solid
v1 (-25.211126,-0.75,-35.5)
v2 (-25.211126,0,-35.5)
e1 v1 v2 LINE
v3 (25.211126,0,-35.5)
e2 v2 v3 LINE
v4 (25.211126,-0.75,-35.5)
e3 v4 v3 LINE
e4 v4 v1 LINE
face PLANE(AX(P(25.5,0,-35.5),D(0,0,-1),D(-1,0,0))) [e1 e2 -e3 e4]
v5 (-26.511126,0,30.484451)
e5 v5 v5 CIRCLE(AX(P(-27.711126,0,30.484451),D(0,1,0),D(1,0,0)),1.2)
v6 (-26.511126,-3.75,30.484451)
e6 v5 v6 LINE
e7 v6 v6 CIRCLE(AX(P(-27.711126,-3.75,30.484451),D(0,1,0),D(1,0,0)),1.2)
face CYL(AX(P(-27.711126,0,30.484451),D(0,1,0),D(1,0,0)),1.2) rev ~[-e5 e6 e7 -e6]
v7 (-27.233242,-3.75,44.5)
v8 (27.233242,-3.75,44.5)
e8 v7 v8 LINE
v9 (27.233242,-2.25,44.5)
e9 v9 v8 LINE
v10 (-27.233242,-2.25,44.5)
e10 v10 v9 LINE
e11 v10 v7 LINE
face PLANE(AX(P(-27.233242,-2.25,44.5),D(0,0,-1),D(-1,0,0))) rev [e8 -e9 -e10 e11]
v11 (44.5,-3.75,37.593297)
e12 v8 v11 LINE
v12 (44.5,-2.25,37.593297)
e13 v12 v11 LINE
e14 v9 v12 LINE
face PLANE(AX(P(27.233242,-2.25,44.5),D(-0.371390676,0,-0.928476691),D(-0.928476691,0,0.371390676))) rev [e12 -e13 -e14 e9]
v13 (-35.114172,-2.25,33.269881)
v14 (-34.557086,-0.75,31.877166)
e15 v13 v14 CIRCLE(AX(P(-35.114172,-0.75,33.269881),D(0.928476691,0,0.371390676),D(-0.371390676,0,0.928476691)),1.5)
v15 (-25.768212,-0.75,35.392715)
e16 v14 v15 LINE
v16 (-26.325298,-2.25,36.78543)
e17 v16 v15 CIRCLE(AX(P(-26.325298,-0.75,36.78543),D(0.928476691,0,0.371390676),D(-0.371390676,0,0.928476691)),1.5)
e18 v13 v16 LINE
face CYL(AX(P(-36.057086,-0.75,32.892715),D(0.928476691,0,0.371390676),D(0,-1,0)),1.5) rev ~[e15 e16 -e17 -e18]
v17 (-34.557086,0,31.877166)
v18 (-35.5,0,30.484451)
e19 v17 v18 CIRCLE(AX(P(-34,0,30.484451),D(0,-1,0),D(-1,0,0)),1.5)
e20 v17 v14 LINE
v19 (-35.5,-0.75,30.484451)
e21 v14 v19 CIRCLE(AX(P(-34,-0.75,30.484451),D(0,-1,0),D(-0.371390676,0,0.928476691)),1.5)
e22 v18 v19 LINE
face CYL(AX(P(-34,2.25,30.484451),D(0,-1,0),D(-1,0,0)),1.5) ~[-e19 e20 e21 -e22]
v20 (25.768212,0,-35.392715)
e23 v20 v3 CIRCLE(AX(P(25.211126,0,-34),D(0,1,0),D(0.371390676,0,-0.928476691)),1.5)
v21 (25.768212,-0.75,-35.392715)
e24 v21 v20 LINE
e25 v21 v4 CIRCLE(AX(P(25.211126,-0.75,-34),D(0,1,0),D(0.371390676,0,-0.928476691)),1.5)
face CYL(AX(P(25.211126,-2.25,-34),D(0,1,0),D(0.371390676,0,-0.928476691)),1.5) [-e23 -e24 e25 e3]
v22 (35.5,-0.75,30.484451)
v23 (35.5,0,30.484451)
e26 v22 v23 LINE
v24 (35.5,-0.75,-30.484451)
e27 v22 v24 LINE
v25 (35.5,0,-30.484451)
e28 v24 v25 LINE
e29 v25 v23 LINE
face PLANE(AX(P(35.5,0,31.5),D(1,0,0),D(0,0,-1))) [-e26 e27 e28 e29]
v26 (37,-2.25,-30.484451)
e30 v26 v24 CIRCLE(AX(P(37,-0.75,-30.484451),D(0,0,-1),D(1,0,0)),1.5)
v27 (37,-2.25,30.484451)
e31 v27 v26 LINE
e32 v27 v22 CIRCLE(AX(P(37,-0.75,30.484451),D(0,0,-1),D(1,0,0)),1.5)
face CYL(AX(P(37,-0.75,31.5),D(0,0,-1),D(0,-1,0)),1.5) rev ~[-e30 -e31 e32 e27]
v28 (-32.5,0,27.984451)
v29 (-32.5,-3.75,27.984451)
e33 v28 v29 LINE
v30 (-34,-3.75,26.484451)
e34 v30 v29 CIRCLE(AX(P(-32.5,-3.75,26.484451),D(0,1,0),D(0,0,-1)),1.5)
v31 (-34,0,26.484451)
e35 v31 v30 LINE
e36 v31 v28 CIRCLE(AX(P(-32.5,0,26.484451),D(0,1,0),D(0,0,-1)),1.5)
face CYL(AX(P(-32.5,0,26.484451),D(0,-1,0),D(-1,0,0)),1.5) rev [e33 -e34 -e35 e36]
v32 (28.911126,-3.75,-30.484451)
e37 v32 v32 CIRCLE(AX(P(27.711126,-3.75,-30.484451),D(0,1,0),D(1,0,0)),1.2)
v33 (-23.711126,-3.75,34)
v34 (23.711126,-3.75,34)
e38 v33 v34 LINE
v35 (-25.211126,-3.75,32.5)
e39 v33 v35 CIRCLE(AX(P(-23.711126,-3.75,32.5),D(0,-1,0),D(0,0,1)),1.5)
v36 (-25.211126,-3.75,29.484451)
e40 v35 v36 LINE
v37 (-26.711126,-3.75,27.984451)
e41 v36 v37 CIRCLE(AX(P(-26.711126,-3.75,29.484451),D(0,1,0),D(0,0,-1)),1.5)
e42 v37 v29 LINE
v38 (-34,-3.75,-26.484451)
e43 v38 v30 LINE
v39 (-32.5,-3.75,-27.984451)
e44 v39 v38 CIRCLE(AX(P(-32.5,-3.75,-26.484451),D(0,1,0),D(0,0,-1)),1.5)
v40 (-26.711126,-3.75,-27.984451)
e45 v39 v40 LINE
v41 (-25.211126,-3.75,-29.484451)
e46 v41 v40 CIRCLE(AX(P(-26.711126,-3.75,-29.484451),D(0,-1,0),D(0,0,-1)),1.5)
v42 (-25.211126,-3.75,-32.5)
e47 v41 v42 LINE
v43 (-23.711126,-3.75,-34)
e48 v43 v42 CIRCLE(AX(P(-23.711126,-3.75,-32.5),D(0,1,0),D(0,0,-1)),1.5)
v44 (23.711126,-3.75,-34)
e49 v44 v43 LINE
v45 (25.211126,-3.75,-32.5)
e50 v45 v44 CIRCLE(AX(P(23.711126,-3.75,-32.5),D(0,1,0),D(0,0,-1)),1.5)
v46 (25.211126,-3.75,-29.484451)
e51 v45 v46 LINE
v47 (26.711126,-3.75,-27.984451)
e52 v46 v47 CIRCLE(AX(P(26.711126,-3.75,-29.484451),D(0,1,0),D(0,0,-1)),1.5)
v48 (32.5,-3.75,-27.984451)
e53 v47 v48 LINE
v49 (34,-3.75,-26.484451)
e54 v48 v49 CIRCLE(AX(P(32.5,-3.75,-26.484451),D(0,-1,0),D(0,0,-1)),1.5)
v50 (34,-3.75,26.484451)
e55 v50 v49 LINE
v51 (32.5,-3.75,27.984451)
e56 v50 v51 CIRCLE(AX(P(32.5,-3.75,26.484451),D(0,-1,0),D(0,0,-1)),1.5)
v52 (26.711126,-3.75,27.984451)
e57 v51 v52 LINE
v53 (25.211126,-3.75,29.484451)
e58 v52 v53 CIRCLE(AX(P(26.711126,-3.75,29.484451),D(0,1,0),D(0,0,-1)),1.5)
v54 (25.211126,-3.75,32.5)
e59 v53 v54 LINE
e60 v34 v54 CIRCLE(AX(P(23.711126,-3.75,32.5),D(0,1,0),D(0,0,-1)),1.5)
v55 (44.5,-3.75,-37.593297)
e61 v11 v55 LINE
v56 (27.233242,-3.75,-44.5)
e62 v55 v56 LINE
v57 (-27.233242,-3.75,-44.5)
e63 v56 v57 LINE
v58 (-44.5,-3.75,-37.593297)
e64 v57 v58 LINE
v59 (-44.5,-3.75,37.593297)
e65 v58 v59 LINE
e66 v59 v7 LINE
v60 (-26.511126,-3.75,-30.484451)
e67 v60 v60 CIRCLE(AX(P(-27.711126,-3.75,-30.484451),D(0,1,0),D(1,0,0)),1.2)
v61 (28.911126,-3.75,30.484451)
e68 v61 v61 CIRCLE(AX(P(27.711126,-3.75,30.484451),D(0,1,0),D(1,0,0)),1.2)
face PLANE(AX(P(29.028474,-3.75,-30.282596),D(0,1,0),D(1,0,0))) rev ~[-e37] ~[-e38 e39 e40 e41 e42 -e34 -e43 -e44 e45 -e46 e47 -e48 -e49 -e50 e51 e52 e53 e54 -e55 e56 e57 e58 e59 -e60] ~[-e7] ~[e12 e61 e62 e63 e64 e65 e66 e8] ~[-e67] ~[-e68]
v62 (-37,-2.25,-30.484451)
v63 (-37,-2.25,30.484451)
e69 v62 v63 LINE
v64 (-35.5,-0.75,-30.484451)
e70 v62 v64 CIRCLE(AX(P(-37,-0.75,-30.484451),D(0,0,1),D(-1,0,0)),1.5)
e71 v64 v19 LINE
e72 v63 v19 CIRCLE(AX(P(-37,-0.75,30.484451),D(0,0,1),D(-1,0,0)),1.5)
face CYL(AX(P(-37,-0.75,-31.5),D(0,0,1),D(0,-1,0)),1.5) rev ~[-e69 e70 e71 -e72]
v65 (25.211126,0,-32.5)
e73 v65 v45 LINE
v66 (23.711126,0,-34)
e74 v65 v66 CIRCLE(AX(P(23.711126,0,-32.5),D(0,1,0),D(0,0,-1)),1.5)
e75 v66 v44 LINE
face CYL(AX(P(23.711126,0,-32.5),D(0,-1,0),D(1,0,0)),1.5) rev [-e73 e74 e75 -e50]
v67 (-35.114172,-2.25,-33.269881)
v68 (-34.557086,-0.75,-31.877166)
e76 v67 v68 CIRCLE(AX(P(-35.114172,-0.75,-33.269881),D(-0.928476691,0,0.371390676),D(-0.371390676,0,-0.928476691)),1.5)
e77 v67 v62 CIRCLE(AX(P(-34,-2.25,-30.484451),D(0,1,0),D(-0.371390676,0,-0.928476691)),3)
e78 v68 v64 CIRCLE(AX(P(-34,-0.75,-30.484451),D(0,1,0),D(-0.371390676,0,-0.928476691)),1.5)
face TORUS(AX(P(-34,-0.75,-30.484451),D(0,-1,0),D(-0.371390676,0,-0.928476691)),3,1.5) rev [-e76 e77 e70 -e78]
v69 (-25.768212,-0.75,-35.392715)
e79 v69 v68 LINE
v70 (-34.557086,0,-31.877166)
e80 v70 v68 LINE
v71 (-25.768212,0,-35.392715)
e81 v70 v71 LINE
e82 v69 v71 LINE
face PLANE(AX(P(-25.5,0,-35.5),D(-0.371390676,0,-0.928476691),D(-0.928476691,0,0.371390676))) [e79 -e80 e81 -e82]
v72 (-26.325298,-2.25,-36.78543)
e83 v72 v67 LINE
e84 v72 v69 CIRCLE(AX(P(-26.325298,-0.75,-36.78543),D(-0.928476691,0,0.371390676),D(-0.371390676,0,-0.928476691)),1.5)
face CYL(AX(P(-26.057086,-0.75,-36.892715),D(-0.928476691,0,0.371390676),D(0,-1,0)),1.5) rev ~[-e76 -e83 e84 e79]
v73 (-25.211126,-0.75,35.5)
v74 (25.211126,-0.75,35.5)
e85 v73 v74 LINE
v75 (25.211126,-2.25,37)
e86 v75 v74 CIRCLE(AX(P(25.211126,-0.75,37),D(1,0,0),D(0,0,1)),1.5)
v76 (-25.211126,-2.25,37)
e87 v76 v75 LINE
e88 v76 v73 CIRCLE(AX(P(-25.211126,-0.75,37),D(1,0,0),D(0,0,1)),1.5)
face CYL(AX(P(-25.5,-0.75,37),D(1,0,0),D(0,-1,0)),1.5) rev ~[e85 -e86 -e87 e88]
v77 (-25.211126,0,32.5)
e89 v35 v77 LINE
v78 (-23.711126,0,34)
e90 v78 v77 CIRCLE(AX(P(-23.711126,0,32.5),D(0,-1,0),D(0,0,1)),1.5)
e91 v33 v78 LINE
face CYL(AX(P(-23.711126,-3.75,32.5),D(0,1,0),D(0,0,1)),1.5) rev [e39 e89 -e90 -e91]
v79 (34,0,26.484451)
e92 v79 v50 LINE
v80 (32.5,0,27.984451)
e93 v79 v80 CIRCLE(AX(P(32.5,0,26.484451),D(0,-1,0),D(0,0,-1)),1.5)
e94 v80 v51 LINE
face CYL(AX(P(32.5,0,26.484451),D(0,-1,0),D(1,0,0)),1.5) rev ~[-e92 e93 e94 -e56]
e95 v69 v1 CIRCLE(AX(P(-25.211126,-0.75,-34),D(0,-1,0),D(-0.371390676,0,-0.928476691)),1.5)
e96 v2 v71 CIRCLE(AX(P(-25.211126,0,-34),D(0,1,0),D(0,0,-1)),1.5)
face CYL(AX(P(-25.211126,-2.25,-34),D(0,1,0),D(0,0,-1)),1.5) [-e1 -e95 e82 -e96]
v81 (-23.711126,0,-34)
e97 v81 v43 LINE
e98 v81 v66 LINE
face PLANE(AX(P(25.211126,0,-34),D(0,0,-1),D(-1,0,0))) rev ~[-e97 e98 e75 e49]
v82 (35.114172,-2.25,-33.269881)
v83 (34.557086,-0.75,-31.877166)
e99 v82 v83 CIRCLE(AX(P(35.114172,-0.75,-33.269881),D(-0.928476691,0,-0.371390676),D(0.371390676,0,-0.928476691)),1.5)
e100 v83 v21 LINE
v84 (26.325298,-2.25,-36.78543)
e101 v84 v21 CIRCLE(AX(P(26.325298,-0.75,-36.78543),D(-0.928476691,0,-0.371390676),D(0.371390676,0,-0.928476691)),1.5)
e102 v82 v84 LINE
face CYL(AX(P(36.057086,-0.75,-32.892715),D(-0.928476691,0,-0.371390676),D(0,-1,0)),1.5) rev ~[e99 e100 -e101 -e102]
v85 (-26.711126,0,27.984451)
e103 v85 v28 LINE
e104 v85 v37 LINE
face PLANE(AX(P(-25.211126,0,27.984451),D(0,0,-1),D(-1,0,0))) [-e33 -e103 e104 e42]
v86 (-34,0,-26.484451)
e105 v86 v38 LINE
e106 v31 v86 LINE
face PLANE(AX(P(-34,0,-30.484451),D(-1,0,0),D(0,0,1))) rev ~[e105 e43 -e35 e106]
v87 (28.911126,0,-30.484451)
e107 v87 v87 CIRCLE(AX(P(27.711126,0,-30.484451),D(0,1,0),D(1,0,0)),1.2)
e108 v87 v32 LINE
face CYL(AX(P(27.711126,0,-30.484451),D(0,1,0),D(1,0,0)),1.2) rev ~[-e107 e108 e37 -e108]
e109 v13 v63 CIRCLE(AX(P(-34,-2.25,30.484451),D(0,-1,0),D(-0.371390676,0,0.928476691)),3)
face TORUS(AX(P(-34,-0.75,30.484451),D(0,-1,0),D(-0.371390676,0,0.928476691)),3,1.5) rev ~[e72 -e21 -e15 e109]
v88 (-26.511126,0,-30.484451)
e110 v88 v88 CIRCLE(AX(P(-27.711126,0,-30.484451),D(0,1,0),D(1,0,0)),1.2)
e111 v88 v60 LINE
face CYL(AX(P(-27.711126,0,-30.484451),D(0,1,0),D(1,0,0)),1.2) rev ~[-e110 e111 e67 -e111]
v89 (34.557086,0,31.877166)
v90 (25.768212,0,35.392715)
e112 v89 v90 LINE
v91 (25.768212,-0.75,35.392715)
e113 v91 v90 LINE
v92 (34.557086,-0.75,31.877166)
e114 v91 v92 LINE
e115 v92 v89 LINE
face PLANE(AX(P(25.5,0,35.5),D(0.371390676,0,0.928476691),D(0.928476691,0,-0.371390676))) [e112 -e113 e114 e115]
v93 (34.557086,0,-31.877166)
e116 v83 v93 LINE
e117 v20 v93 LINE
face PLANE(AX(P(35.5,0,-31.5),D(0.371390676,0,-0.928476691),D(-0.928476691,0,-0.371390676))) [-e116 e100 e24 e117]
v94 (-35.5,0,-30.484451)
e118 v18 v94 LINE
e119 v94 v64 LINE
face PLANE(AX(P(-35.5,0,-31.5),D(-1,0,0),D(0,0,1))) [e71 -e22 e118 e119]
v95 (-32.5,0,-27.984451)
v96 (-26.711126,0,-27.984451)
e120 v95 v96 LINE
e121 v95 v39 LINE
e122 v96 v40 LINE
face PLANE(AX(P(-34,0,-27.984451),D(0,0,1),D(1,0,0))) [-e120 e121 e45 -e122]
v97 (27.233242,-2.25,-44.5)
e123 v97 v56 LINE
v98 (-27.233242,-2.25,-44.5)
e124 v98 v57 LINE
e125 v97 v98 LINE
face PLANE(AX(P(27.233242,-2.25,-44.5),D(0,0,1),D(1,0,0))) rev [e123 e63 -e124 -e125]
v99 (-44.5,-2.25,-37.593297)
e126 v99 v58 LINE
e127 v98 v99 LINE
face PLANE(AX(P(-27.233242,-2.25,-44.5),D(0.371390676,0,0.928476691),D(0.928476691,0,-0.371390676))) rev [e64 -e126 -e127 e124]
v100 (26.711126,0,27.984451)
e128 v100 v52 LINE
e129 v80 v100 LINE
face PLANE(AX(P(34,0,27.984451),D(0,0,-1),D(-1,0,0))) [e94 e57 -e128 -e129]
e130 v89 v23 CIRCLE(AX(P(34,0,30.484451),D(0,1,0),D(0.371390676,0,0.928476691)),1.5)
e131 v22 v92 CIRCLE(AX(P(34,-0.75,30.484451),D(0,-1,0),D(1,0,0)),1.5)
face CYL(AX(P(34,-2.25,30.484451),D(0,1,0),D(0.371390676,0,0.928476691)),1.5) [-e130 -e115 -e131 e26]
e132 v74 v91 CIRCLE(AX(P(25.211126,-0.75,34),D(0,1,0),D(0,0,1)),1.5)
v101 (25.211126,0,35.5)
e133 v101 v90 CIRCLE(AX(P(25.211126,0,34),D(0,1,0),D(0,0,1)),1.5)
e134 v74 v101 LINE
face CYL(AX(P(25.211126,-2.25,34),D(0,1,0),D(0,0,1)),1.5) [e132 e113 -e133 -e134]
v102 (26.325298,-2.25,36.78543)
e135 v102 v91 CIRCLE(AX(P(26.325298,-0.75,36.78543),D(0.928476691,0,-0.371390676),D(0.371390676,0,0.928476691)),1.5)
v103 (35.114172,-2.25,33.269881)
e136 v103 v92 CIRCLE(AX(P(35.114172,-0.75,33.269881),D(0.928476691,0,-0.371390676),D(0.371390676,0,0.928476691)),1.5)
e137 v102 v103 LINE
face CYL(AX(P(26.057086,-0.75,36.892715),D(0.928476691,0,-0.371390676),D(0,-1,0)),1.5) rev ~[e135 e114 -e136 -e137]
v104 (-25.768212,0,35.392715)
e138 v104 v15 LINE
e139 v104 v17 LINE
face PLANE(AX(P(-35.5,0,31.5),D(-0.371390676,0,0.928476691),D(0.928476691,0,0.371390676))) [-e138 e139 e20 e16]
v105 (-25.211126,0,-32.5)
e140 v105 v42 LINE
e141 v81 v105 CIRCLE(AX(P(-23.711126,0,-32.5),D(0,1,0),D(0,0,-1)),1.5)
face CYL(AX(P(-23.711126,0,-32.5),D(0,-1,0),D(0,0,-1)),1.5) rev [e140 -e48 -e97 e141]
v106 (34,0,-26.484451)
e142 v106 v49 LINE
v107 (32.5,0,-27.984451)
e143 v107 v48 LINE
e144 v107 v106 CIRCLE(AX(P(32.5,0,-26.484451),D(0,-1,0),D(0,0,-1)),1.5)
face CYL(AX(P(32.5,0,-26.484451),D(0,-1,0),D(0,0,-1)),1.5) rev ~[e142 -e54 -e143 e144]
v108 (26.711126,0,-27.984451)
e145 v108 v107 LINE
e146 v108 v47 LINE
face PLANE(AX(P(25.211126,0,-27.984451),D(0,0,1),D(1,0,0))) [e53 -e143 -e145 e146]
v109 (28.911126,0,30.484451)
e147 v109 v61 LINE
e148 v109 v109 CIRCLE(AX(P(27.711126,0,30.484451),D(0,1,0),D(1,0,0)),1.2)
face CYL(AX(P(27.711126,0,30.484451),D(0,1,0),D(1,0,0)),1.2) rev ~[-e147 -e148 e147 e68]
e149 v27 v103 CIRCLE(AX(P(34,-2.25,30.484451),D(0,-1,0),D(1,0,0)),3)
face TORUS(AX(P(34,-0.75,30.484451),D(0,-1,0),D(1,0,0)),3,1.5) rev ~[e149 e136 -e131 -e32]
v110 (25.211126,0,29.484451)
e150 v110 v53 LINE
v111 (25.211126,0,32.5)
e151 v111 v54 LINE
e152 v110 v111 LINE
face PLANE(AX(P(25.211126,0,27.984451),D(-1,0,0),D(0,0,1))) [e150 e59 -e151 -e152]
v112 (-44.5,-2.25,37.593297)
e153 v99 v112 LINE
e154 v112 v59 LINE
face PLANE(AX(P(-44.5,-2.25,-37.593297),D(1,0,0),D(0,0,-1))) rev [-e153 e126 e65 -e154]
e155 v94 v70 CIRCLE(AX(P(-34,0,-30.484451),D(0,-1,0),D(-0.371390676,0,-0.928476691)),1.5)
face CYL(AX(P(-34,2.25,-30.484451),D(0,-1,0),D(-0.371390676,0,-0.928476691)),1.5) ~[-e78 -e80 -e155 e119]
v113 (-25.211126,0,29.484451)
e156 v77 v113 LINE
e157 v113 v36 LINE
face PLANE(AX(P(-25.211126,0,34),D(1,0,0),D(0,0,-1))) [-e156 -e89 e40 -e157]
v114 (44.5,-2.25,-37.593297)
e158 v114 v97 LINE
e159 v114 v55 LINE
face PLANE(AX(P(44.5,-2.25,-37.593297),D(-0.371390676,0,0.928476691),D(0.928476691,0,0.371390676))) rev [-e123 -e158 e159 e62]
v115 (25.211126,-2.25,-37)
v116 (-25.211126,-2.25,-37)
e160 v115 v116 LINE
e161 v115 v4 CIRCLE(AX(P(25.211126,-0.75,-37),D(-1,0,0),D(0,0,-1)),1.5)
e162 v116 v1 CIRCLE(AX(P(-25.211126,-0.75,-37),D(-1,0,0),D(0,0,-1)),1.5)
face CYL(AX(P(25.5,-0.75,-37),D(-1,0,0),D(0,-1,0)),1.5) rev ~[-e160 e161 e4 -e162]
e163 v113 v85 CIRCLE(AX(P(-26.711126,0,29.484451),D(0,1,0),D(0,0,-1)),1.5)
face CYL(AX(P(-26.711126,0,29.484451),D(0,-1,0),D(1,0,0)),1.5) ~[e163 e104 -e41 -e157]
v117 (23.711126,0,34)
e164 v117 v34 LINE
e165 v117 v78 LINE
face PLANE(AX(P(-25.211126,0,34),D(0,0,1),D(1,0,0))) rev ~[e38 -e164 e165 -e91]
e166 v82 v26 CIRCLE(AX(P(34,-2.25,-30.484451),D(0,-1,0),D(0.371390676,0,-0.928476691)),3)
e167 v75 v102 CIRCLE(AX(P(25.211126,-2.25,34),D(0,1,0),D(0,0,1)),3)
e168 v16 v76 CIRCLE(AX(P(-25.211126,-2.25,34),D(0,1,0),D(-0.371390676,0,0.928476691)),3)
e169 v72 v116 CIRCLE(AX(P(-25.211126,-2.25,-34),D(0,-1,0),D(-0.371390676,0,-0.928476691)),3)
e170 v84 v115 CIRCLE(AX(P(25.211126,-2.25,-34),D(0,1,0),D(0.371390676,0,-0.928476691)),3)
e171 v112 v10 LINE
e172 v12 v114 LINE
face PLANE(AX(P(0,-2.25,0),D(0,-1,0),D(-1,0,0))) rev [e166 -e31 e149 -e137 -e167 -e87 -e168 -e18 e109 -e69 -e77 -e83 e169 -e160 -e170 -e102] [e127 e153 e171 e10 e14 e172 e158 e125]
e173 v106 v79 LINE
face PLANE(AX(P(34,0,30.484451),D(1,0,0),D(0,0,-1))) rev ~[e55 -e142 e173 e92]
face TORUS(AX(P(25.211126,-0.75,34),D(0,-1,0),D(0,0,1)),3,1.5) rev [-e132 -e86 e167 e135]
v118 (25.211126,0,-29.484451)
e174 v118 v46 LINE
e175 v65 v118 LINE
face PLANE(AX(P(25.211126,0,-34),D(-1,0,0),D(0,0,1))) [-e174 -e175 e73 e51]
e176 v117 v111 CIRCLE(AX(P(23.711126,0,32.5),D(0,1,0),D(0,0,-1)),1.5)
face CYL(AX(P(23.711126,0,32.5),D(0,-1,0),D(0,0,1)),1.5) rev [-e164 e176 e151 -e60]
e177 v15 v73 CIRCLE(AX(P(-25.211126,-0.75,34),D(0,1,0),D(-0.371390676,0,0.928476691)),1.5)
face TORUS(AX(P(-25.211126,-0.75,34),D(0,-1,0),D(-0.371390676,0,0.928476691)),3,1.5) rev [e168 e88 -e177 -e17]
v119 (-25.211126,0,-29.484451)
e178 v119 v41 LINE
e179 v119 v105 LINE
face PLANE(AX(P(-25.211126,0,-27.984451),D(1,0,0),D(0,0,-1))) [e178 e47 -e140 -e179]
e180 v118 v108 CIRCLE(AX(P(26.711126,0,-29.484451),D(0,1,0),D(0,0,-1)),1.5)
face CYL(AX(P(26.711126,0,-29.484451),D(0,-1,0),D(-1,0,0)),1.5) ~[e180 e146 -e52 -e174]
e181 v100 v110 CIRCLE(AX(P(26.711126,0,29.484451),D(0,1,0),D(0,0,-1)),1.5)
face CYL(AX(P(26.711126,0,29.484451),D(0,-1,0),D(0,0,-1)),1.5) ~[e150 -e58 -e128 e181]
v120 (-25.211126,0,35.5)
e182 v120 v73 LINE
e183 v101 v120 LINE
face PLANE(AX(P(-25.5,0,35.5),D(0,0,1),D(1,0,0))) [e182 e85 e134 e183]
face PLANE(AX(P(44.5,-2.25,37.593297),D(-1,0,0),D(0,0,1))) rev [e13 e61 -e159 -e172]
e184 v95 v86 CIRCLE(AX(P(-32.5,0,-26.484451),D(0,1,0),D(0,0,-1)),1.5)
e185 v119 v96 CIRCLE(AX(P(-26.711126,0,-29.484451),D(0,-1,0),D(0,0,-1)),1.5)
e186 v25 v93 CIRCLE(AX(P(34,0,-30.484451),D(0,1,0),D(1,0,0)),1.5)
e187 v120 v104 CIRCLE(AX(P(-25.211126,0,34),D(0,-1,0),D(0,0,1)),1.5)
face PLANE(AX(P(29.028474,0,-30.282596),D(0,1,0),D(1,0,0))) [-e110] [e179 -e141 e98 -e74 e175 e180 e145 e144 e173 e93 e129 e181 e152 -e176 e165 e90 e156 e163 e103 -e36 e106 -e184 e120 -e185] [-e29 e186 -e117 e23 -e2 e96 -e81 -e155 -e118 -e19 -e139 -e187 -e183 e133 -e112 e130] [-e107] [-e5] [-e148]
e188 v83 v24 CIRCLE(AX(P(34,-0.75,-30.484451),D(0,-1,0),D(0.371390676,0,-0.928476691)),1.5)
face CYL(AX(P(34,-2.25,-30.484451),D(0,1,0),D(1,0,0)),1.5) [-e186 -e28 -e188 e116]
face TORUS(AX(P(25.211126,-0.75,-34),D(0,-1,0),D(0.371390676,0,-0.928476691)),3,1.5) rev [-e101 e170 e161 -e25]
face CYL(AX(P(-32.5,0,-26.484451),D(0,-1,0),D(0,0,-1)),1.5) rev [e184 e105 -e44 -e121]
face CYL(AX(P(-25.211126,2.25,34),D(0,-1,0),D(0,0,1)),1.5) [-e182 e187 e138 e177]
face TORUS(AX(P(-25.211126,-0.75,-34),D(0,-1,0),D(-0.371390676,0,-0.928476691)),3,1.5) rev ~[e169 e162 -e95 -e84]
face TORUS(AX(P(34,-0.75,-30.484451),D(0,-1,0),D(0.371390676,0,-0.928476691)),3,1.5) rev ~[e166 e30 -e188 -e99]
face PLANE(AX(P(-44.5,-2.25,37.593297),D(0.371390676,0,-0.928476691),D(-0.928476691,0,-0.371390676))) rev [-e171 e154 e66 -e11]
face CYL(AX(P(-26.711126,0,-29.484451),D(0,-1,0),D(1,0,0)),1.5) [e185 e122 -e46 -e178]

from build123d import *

# Parameters (mm, degrees)
BOSS_EXTRUDE1_DEPTH     = 2.25
BOSS_EXTRUDE2_DEPTH     = 1.5
CUT_EXTRUDE1_DEPTH      = 4.75
CUT_EXTRUDE1_DEPTH_BACK = 4.75
BOSS_EXTRUDE3_START     = 44.5
SKETCH5_W               = 8
SKETCH5_H               = 12.8
BOSS_EXTRUDE3_DEPTH     = 1.5
BOSS_EXTRUDE4_START     = -44.5
SKETCH5_2_W             = 8
SKETCH5_2_H             = 12.8
BOSS_EXTRUDE4_DEPTH     = 1.5
SKETCH6_R               = 1.2
CUT_EXTRUDE3_DEPTH      = 45.5
CUT_EXTRUDE3_DEPTH_BACK = 45.5
FILLET1_R               = 1.5
SKETCH7_W               = 89
SKETCH7_H               = 89
CUT_EXTRUDE4_DEPTH      = 17.55
SKETCH8_R               = 1.2
BOSS_EXTRUDE5_DEPTH     = 3.75
FILLET2_R               = 1.5


with BuildPart() as part:
    # Sketch1 → Boss-Extrude1 (new body, symmetric)
    with BuildSketch(Plane(origin=(0, 0, 0), x_dir=(1, 0, 0), z_dir=(0, 1, 0))):
        Polygon((-25.5, -35.5), (25.5, -35.5), (35.5, -31.5), (35.5, 31.5), (25.5, 35.5), (-25.5, 35.5), (-35.5, 31.5), (-35.5, -31.5), align=None)
    extrude(amount=BOSS_EXTRUDE1_DEPTH, both=True)

    # Sketch2 → Boss-Extrude2 (add)
    with BuildSketch(Plane(origin=(0, 2.25, 0), x_dir=(1, 0, 0), z_dir=(0, 1, 0))):
        Polygon((27.233241632, -44.5), (44.5, -37.593296653), (44.5, 37.593296653), (27.233241632, 44.5), (-27.233241632, 44.5), (-44.5, 37.593296653), (-44.5, -37.593296653), (-27.233241632, -44.5), align=None)
    boss_extrude2 = extrude(amount=BOSS_EXTRUDE2_DEPTH)

    # Mirror1: Boss-Extrude2 across plane
    add(boss_extrude2.mirror(Plane.ZX))

    # Sketch3 → Cut-Extrude1 (cut, two sides)
    with BuildSketch(Plane(origin=(0, 0, 0), x_dir=(1, 0, 0), z_dir=(0, 1, 0))) as cut_extrude1_sk:
        Polygon((-25.211126395, -34), (25.211126395, -34), (34, -30.484450558), (34, 30.484450558), (25.211126395, 34), (-25.211126395, 34), (-34, 30.484450558), (-34, -30.484450558), align=None)
    extrude(amount=CUT_EXTRUDE1_DEPTH, mode=Mode.SUBTRACT)
    extrude(cut_extrude1_sk.sketch, amount=-CUT_EXTRUDE1_DEPTH_BACK, mode=Mode.SUBTRACT)

    # Sketch5 → Boss-Extrude3 (add)
    with BuildSketch(Plane.XY.offset(BOSS_EXTRUDE3_START)):
        with Locations((-22, 10.15)):
            Rectangle(SKETCH5_W, SKETCH5_H)
        with Locations((22, 10.15)):
            Rectangle(SKETCH5_W, SKETCH5_H)
    extrude(amount=-BOSS_EXTRUDE3_DEPTH)

    # Sketch5<2> → Boss-Extrude4 (add)
    with BuildSketch(Plane.XY.offset(BOSS_EXTRUDE4_START)):
        with Locations((-22, 10.15)):
            Rectangle(SKETCH5_2_W, SKETCH5_2_H)
        with Locations((22, 10.15)):
            Rectangle(SKETCH5_2_W, SKETCH5_2_H)
    extrude(amount=BOSS_EXTRUDE4_DEPTH)

    # Sketch6 → Cut-Extrude3 (cut, two sides)
    with BuildSketch(Plane.XY) as cut_extrude3_sk:
        with Locations((-22, 13.85)):
            Circle(SKETCH6_R)
        with Locations((22, 13.85)):
            Circle(SKETCH6_R)
        with Locations((-22, 8.45)):
            Circle(SKETCH6_R)
        with Locations((22, 8.45)):
            Circle(SKETCH6_R)
    extrude(amount=CUT_EXTRUDE3_DEPTH, mode=Mode.SUBTRACT)
    extrude(cut_extrude3_sk.sketch, amount=-CUT_EXTRUDE3_DEPTH_BACK, mode=Mode.SUBTRACT)

    # Fillet1
    fillet1_edges = [part.edges().sort_by_distance(p)[0] for p in [
        (35.5, 0, 31.5),
        (25.5, 0, 35.5),
        (0, 2.25, -35.5),
        (0, -2.25, -35.5),
        (35.5, 2.25, 0),
        (35.5, -2.25, 0),
        (-35.5, 2.25, 0),
        (-35.5, -2.25, 0),
        (0, 2.25, 35.5),
        (0, -2.25, 35.5),
        (-25.5, 0, -35.5),
        (-30.5, 2.25, -33.5),
        (-35.5, 0, -31.5),
        (-30.5, -2.25, -33.5),
        (35.5, 0, -31.5),
        (30.5, 2.25, -33.5),
        (25.5, 0, -35.5),
        (30.5, -2.25, -33.5),
        (30.5, 2.25, 33.5),
        (30.5, -2.25, 33.5),
        (-35.5, 0, 31.5),
        (-30.5, 2.25, 33.5),
        (-25.5, 0, 35.5),
        (-30.5, -2.25, 33.5),
        (-22, 3.75, -43),
        (22, 3.75, -43),
        (-22, 3.75, 43),
        (22, 3.75, 43),
        (26, 3.75, 43.75),
        (-18, 3.75, 43.75),
        (18, 3.75, 43.75),
        (-26, 3.75, 43.75),
        (18, 3.75, -43.75),
        (26, 3.75, -43.75),
        (-26, 3.75, -43.75),
    ]]
    fillet(fillet1_edges, radius=FILLET1_R)

    # Sketch7 → Cut-Extrude4 (cut, through all)
    with BuildSketch(Plane(origin=(0, 0, 0), x_dir=(1, 0, 0), z_dir=(0, 1, 0))):
        Rectangle(SKETCH7_W, SKETCH7_H)
    extrude(amount=CUT_EXTRUDE4_DEPTH, mode=Mode.SUBTRACT)

    # Sketch8 → Boss-Extrude5 (add)
    with BuildSketch(Plane(origin=(0, 0, 0), x_dir=(1, 0, 0), z_dir=(0, 1, 0))):
        Polygon((34, 30.484450558), (25.211126395, 34), (25.211126395, 27.984450558), (34, 27.984450558), align=None)
        with Locations((27.711126395, 30.484450558)):
            Circle(SKETCH8_R, mode=Mode.SUBTRACT)
        Polygon((-25.211126395, 27.984450558), (-25.211126395, 34), (-34, 30.484450558), (-34, 27.984450558), align=None)
        with Locations((-27.711126395, 30.484450558)):
            Circle(SKETCH8_R, mode=Mode.SUBTRACT)
        Polygon((25.211126395, -27.984450558), (25.211126395, -34), (34, -30.484450558), (34, -27.984450558), align=None)
        with Locations((27.711126395, -30.484450558)):
            Circle(SKETCH8_R, mode=Mode.SUBTRACT)
        Polygon((-34, -30.484450558), (-25.211126395, -34), (-25.211126395, -27.984450558), (-34, -27.984450558), align=None)
        with Locations((-27.711126395, -30.484450558)):
            Circle(SKETCH8_R, mode=Mode.SUBTRACT)
    extrude(amount=-BOSS_EXTRUDE5_DEPTH)

    # Fillet2
    fillet2_edges = [part.edges().sort_by_distance(p)[0] for p in [
        (34, -1.875, -27.984450558),
        (25.211126395, -1.875, -27.984450558),
        (-25.211126395, -1.875, -27.984450558),
        (-34, -1.875, -27.984450558),
        (25.211126395, -1.875, 27.984450558),
        (34, -1.875, 27.984450558),
        (-34, -1.875, 27.984450558),
        (-25.211126395, -1.875, 27.984450558),
        (-25.211126395, -1.875, 34),
        (-25.211126395, -1.875, -34),
        (25.211126395, -1.875, -34),
        (25.211126395, -1.875, 34),
    ]]
    fillet(fillet2_edges, radius=FILLET2_R)


solid = part.part
